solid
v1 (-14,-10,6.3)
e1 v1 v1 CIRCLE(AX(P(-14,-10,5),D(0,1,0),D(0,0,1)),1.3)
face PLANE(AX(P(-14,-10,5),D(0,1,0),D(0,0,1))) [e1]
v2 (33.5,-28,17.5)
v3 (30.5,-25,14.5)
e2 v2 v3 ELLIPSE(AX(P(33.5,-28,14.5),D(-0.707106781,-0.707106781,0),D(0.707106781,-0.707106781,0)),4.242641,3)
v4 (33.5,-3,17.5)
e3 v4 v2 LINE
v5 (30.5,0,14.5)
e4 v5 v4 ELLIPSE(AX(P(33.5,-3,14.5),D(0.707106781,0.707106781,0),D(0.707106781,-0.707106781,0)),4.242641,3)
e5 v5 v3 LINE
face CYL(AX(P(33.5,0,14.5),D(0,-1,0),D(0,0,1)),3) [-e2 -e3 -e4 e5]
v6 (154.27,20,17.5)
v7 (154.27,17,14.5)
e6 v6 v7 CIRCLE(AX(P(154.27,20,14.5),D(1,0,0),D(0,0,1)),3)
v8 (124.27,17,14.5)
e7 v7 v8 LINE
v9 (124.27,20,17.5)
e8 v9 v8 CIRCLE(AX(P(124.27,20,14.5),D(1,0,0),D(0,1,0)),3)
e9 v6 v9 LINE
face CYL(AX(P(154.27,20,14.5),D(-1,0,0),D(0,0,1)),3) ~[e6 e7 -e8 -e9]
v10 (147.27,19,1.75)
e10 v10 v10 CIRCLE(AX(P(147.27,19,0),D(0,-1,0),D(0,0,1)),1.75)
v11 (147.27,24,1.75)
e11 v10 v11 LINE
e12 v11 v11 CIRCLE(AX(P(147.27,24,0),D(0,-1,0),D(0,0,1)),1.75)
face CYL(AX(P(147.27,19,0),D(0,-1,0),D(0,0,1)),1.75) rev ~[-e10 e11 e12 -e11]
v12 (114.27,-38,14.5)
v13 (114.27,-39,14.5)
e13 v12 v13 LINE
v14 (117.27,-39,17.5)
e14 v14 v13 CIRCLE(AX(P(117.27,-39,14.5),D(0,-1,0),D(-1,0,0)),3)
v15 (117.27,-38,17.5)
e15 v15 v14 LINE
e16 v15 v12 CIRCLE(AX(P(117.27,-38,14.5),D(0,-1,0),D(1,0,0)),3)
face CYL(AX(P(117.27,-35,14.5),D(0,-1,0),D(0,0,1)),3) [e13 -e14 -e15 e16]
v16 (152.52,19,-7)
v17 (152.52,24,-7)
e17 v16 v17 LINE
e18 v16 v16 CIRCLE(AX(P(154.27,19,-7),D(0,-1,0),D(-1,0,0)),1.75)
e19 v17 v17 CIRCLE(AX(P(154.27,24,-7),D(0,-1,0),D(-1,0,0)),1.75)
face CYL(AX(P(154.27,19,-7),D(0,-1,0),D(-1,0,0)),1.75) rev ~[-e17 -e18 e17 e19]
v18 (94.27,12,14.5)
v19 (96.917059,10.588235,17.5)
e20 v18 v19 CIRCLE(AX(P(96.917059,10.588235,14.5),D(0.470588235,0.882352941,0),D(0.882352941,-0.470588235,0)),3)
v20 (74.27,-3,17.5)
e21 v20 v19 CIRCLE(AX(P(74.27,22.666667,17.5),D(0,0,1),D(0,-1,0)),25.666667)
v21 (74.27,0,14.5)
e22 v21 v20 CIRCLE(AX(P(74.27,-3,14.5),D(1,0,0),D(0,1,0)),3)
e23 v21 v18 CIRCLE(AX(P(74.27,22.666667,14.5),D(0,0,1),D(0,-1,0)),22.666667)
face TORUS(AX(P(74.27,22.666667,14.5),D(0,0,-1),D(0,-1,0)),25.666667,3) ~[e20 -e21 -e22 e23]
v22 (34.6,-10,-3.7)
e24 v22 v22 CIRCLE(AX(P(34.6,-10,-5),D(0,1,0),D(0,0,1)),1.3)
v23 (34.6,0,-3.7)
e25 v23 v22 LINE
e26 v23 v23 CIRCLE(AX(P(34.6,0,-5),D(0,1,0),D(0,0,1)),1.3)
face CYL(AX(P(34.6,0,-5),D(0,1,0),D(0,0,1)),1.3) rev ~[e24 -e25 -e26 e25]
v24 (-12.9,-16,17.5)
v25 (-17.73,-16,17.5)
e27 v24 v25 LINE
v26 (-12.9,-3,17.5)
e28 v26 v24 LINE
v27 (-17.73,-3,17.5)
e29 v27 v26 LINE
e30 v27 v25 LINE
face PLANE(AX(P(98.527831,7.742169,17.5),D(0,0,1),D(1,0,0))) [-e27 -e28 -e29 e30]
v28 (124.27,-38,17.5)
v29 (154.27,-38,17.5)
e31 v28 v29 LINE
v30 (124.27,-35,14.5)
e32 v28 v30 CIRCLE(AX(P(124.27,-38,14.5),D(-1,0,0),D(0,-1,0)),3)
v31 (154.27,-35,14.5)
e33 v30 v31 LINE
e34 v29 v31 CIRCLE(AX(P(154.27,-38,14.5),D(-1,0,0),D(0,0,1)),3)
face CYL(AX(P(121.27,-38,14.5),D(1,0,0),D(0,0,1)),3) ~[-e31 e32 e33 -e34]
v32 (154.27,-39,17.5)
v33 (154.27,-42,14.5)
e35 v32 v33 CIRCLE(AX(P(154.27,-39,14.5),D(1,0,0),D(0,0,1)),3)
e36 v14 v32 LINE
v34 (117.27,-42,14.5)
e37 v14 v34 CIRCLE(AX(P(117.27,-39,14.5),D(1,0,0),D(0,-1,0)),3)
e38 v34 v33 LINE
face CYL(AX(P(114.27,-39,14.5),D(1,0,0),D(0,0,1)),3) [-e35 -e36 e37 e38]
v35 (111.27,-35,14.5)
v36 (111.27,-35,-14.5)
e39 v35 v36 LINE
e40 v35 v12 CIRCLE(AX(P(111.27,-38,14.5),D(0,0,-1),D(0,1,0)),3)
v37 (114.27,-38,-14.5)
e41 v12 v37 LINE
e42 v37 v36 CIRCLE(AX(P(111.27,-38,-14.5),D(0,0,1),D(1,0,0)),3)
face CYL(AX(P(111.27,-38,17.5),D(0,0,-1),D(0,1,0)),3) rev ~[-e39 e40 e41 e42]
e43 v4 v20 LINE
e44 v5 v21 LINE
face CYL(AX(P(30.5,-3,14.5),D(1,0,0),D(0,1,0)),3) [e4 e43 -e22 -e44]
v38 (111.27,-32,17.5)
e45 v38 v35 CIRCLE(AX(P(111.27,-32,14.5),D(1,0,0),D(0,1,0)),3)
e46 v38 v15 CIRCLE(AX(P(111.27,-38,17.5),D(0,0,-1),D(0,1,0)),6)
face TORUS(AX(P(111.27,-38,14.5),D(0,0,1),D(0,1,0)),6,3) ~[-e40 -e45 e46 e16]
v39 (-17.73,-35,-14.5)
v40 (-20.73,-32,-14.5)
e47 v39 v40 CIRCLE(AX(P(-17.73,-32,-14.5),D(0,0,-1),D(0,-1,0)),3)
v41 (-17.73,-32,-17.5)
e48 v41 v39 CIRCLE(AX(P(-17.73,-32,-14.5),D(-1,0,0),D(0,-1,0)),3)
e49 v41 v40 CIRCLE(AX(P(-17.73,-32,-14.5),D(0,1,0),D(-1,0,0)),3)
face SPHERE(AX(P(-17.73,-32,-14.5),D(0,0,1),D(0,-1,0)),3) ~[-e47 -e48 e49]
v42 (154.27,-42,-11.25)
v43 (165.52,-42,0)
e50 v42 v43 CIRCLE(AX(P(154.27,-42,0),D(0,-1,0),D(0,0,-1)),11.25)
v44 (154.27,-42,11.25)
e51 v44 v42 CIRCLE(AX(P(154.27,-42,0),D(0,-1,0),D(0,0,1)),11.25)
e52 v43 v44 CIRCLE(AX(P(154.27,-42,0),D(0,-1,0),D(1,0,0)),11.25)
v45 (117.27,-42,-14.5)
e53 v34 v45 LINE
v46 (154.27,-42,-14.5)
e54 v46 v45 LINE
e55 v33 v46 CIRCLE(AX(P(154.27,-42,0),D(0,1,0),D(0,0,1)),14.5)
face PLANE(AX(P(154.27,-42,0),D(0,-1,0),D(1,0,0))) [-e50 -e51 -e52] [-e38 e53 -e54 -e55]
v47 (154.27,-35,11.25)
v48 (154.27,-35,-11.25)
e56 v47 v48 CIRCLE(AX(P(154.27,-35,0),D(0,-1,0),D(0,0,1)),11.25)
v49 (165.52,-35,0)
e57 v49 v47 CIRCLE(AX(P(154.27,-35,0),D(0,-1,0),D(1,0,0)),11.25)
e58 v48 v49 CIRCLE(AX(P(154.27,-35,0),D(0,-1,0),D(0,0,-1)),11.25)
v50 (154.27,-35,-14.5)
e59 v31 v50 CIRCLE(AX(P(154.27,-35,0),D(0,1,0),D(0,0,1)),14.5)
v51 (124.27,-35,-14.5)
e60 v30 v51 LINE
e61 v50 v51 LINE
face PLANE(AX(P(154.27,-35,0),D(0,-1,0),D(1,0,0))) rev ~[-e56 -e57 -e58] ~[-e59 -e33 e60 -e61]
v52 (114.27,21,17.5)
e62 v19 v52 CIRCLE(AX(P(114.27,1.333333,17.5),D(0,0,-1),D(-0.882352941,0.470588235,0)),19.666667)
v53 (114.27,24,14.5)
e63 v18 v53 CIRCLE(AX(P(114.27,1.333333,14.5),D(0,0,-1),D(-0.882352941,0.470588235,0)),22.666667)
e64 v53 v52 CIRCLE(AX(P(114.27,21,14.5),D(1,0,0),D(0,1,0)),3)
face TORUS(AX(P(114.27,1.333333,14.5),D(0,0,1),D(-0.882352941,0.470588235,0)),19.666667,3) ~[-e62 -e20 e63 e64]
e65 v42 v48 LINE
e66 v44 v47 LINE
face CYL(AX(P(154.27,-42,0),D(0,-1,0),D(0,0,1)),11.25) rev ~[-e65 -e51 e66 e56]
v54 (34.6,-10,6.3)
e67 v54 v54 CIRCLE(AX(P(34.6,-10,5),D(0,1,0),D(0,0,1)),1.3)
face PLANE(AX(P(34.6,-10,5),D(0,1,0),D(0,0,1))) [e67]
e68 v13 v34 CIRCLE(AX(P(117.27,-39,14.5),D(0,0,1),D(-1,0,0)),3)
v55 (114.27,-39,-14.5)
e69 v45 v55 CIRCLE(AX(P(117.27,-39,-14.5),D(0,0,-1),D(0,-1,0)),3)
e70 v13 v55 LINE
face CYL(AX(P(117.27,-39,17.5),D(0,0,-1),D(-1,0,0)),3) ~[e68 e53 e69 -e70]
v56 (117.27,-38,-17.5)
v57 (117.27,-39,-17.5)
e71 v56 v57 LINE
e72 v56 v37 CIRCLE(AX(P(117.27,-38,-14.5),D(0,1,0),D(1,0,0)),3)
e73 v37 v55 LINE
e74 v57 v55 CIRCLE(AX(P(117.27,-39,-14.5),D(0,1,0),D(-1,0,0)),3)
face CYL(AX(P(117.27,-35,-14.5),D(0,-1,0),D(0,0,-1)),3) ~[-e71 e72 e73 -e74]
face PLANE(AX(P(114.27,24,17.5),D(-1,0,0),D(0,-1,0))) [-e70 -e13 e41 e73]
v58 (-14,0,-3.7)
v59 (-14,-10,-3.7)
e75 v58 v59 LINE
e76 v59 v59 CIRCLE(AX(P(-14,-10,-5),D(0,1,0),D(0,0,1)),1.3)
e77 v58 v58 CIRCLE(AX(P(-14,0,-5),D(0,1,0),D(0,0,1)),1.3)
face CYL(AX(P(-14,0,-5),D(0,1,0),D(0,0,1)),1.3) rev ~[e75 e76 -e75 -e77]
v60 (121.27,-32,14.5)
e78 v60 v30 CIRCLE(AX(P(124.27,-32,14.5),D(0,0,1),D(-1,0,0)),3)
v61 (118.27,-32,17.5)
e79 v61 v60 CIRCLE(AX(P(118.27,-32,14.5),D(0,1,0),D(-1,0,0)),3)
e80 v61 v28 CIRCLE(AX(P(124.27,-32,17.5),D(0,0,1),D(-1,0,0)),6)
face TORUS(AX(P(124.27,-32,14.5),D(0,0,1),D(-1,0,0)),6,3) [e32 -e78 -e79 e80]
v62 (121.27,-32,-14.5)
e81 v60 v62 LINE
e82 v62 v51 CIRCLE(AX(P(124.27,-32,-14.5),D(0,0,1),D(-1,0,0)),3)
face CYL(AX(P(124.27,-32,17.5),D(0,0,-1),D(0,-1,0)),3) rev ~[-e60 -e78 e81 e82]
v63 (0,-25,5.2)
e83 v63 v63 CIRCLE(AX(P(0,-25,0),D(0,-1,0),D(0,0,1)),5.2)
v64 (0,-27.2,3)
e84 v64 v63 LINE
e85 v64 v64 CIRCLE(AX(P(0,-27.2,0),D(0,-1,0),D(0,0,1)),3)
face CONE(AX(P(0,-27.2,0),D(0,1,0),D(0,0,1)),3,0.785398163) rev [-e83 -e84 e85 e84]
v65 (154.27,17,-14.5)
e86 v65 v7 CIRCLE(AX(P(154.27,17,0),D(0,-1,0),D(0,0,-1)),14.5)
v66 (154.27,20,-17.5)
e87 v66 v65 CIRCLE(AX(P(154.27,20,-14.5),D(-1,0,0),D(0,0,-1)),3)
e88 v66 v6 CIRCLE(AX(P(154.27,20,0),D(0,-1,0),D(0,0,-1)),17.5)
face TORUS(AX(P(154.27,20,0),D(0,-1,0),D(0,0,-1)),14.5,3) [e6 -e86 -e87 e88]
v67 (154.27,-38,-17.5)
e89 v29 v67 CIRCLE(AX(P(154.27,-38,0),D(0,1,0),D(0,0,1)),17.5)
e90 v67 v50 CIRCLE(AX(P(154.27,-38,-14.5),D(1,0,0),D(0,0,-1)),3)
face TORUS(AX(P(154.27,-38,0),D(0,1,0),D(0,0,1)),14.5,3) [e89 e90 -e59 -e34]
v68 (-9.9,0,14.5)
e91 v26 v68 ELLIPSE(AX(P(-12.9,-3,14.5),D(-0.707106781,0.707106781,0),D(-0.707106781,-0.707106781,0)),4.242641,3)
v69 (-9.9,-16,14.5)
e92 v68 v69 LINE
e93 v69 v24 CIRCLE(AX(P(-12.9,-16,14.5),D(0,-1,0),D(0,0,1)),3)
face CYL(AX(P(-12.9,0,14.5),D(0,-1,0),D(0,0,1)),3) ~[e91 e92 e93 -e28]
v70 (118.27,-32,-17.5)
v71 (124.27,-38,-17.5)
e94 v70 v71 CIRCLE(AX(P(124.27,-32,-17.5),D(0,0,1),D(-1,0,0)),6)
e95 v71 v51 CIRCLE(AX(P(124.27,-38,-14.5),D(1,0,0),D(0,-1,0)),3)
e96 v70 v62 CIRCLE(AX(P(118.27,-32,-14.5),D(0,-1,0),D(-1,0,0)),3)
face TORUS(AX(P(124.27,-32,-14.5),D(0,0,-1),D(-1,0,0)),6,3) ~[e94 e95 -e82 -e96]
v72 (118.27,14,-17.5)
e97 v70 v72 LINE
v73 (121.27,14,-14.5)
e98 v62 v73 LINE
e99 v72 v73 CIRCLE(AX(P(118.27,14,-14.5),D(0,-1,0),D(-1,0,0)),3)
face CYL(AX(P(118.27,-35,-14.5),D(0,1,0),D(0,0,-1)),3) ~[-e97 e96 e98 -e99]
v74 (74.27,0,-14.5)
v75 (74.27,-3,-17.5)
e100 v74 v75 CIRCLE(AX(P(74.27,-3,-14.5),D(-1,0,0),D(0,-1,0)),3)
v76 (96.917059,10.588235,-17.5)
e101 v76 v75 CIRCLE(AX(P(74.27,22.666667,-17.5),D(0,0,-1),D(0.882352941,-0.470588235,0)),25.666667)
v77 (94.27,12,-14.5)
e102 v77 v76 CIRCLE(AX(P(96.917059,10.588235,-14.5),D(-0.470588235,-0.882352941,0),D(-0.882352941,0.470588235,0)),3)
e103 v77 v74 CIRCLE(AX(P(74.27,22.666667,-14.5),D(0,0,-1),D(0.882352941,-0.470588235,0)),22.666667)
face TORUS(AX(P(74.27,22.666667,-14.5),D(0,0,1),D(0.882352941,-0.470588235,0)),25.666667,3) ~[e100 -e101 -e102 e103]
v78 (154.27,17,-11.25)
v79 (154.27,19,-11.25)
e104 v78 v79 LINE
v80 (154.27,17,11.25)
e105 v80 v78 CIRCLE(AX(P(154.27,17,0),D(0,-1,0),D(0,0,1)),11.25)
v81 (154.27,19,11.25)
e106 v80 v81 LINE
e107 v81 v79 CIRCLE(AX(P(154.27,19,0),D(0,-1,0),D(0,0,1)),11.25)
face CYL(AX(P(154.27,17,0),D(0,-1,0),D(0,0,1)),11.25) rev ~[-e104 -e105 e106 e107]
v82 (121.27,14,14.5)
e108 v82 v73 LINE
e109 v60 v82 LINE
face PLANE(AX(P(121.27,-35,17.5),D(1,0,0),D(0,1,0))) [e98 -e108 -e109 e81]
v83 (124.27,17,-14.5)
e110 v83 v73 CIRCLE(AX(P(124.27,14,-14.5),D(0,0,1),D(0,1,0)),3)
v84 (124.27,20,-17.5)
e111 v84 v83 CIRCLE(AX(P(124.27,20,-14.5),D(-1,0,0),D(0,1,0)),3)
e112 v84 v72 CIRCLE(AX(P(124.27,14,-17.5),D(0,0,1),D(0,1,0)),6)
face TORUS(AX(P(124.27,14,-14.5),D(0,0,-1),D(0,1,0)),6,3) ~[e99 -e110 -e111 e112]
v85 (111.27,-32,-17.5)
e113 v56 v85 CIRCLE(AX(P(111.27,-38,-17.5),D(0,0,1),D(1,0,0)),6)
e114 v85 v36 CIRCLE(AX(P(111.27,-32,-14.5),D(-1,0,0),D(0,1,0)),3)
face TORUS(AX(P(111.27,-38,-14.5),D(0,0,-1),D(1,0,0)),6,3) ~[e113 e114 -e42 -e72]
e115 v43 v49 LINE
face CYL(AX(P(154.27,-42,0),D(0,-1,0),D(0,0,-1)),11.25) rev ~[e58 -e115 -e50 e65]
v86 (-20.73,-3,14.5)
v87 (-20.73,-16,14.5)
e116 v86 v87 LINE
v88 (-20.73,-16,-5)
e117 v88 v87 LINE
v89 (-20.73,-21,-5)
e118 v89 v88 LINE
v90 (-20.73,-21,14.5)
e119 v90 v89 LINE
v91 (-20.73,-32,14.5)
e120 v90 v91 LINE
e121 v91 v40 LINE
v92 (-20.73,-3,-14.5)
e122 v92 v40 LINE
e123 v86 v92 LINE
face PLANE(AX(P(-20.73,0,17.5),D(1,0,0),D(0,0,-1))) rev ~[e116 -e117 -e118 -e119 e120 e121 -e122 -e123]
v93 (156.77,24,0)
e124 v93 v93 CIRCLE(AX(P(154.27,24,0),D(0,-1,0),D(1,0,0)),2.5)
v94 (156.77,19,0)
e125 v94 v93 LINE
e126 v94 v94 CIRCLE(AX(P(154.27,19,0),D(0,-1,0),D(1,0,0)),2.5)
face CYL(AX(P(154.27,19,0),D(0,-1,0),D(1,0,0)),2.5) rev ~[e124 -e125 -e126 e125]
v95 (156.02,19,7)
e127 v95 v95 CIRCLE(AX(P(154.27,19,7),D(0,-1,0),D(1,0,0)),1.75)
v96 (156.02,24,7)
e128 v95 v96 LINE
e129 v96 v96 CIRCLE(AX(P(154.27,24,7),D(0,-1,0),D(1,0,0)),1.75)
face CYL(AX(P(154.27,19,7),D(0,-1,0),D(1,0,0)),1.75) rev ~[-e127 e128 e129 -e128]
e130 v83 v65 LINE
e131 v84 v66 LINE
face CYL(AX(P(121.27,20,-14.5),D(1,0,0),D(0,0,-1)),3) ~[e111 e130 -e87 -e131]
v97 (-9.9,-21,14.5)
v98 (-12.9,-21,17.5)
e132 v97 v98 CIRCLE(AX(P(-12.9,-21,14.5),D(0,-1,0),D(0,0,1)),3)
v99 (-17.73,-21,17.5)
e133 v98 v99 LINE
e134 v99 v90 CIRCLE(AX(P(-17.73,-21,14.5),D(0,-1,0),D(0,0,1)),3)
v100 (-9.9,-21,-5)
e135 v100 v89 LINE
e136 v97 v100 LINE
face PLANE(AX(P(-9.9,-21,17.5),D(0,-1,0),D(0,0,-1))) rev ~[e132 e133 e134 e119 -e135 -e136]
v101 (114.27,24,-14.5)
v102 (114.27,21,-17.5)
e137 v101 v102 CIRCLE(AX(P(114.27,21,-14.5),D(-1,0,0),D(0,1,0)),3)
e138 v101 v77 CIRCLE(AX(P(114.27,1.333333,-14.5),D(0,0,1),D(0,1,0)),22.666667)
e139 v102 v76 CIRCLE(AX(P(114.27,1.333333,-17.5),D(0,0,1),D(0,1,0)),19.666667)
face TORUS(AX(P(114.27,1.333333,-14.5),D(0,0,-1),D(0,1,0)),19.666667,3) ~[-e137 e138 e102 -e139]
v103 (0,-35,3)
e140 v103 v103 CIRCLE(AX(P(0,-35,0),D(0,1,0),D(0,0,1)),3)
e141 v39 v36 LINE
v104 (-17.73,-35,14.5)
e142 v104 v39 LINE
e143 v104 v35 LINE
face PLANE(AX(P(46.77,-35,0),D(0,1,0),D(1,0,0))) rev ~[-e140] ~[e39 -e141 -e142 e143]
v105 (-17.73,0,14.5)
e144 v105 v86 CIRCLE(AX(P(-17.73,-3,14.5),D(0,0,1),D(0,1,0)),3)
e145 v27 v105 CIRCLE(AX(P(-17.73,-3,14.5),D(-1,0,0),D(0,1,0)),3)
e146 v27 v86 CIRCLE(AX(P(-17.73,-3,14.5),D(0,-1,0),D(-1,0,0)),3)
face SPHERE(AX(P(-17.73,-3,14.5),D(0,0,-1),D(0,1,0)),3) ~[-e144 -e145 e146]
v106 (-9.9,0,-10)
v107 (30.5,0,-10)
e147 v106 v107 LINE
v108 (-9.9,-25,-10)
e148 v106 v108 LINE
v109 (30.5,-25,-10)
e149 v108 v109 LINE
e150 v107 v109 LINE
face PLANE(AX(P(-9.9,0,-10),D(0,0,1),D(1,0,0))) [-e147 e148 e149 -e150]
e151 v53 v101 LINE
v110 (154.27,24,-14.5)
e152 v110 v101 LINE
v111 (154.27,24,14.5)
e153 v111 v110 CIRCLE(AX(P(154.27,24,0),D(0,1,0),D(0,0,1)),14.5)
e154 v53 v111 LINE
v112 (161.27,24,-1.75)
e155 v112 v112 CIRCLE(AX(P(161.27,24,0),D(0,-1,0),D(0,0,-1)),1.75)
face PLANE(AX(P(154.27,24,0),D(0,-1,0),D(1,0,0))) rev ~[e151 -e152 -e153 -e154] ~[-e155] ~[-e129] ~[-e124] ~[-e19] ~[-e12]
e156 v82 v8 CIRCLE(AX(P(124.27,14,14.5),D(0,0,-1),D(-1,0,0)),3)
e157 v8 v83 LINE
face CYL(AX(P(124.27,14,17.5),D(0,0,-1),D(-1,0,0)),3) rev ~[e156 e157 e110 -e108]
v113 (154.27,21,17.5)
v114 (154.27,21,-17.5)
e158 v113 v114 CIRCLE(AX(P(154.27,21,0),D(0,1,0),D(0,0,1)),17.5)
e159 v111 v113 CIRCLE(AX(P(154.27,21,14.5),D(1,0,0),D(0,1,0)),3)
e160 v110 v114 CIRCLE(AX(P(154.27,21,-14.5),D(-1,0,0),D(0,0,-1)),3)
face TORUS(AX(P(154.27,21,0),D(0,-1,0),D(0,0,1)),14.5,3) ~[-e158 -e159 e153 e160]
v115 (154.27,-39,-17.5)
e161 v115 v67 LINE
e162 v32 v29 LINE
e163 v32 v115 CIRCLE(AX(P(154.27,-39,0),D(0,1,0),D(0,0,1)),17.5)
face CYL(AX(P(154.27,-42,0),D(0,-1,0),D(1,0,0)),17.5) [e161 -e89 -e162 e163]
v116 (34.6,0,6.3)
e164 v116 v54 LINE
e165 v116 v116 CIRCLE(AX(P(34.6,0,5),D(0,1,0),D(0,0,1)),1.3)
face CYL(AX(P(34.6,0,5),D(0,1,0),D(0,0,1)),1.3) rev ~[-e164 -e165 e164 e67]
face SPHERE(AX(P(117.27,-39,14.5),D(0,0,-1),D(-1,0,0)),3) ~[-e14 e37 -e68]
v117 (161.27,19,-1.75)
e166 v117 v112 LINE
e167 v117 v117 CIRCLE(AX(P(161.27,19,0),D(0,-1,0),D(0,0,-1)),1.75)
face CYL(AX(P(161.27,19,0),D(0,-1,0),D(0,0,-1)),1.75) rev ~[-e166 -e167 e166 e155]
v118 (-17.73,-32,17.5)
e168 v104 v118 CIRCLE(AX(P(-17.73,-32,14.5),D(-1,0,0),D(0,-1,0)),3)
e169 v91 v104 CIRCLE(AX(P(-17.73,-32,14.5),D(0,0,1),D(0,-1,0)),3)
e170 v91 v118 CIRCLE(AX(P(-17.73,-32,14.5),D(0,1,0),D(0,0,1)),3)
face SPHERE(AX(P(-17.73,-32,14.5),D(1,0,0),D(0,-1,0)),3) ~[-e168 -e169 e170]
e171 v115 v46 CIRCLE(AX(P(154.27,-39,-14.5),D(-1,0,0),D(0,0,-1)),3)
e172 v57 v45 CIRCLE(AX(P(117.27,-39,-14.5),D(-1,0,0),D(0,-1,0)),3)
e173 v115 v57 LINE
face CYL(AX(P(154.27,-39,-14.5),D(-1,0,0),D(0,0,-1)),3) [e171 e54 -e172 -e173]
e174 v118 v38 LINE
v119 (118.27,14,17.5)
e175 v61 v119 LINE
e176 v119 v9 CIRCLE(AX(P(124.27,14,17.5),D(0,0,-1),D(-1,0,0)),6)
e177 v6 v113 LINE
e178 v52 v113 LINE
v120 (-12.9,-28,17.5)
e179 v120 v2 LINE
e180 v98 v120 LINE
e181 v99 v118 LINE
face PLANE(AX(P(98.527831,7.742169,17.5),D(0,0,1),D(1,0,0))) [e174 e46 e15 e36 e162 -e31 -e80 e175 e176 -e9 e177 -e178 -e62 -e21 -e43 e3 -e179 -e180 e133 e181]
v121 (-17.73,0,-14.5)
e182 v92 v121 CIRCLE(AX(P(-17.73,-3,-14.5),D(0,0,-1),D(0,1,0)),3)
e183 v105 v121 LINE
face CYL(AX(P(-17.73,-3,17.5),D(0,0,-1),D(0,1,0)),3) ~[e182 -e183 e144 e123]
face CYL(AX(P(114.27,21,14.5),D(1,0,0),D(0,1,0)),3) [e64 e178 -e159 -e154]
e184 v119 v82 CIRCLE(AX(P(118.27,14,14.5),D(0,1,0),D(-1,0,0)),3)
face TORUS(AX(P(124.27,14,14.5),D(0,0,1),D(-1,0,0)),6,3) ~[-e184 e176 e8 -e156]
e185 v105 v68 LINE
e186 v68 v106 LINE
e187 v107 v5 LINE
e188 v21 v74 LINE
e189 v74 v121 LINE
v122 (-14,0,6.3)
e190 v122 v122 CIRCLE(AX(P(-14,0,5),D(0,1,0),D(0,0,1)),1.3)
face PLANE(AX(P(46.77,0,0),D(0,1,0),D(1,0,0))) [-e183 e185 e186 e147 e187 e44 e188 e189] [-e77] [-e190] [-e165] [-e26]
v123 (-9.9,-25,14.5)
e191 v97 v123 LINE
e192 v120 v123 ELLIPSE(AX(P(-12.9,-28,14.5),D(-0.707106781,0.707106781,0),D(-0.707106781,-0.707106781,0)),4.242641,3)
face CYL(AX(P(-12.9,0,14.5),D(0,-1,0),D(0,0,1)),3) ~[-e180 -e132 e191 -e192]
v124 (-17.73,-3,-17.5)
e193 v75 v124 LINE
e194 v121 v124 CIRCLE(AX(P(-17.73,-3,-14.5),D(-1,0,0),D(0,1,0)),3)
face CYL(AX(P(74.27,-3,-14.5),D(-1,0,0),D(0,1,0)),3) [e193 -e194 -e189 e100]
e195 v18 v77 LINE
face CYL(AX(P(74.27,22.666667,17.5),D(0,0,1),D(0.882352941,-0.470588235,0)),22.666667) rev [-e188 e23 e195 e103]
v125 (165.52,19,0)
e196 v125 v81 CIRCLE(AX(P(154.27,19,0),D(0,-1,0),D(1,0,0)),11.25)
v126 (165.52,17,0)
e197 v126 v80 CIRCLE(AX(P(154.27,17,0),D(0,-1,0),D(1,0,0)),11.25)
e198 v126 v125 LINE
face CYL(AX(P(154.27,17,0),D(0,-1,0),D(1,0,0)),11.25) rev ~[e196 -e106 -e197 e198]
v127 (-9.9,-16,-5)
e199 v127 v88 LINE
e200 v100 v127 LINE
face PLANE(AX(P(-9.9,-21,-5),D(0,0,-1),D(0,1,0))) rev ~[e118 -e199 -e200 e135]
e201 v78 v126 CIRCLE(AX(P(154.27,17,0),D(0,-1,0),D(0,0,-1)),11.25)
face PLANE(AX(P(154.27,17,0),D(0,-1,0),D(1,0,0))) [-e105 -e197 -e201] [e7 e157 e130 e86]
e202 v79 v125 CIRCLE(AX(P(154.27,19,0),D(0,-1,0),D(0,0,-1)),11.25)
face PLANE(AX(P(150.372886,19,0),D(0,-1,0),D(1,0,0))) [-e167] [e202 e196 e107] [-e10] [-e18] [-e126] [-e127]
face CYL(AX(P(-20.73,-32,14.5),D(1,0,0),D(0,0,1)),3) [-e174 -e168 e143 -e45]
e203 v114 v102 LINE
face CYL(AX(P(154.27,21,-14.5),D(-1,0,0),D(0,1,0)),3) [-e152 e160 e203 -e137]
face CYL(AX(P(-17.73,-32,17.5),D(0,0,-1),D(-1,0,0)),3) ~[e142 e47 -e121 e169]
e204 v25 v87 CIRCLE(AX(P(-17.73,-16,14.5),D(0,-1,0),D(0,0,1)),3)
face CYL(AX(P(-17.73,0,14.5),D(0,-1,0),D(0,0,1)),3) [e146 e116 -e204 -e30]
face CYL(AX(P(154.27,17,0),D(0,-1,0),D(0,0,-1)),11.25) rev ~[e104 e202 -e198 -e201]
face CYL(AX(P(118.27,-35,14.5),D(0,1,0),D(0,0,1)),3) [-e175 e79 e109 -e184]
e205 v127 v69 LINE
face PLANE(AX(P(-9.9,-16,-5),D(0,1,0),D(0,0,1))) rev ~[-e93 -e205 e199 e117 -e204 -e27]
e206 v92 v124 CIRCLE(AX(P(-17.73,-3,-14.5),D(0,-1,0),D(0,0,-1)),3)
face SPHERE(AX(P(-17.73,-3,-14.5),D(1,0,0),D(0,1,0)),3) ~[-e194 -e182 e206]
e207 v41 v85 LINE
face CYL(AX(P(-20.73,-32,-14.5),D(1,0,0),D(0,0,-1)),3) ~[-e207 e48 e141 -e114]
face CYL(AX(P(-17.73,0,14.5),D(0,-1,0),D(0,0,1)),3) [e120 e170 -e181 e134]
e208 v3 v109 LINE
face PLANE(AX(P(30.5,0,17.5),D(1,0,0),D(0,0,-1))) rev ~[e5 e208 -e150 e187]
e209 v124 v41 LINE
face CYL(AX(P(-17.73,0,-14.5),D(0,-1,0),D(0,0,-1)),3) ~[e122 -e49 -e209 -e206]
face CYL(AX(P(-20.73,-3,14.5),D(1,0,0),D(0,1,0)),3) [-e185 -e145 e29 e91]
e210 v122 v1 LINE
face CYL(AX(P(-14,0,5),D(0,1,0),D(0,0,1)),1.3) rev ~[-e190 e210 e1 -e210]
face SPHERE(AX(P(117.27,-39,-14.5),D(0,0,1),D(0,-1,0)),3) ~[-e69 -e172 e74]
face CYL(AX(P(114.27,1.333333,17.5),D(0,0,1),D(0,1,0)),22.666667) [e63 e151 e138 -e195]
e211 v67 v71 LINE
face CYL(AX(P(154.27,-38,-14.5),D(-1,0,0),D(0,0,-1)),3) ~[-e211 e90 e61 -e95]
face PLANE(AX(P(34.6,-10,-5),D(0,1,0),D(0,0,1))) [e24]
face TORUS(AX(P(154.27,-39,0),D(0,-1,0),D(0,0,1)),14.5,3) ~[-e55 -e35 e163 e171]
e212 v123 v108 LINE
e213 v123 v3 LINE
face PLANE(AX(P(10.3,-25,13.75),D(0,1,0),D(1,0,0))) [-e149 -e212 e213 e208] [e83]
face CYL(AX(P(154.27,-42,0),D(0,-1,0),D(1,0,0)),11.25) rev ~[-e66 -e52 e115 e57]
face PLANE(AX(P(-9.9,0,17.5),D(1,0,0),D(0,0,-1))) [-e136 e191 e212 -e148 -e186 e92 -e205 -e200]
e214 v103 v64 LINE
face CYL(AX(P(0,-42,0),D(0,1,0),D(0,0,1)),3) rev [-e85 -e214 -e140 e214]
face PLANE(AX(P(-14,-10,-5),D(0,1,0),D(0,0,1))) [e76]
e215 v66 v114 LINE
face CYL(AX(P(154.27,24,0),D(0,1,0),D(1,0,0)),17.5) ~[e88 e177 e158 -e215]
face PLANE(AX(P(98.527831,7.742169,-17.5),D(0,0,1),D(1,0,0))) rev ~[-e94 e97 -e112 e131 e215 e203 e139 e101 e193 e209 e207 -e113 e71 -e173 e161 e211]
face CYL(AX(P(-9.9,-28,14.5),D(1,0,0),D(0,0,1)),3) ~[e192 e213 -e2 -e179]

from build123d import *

# Parameters (mm, degrees)
SKETCH1_W           = 135
SKETCH1_H           = 35
BOSS_EXTRUDE1_DEPTH = 35
SKETCH1_3_W         = 40.4
SKETCH1_3_H         = 20
SKETCH1_3_R         = 3.9
SKETCH1_3_H_2       = 7.5
CUT_EXTRUDE1_DEPTH  = 25
SKETCH1_6_R         = 1.3
CUT_EXTRUDE3_DEPTH  = 10
EXTRUDE_THIN1_DEPTH = 35
SKETCH3_R           = 17.5
BOSS_EXTRUDE2_DEPTH = 7
BOSS_EXTRUDE3_START = -66
SKETCH3_3_R         = 17.5
BOSS_EXTRUDE3_DEPTH = 7
BOSS_EXTRUDE6_DEPTH = 35
FILLET3_R           = 3
CUT_EXTRUDE4_REACH  = 186.844
SKETCH4_7_W         = 22.5
SKETCH4_7_H         = 5
SKETCH4_7_W_2       = 3
CUT_EXTRUDE8_DEPTH  = 188.281176052
CUT_EXTRUDE9_START  = -59
CUT_EXTRUDE9_DEPTH  = 2
CUT_EXTRUDE10_REACH = 185.118
SKETCH5_R           = 2.5
SKETCH5_R_2         = 1.75
CIRPATTERN1_COUNT   = 4


with BuildPart() as part:
    # Sketch1 → Boss-Extrude1 (new body)
    with BuildSketch(Plane(origin=(0, 0, 0), x_dir=(1, 0, 0), z_dir=(0, 1, 0))):
        with Locations((46.77, 0)):
            Rectangle(SKETCH1_W, SKETCH1_H)
    extrude(amount=-BOSS_EXTRUDE1_DEPTH)

    # Sketch1<3> → Cut-Extrude1 (cut)
    # profile 1 of 3: a face of its own
    with BuildSketch(Plane(origin=(0, 0, 0), x_dir=(1, 0, 0), z_dir=(0, 1, 0))):
        with Locations((10.3, 0)):
            Rectangle(SKETCH1_3_W, SKETCH1_3_H)
        Circle(SKETCH1_3_R, mode=Mode.SUBTRACT)
    # profile 2 of 3: a face of its own
    with BuildSketch(Plane(origin=(0, 0, 0), x_dir=(1, 0, 0), z_dir=(0, 1, 0))):
        Circle(SKETCH1_3_R)
    # profile 3 of 3: a face of its own
    with BuildSketch(Plane(origin=(0, 0, 0), x_dir=(1, 0, 0), z_dir=(0, 1, 0))):
        with Locations((10.3, -13.75)):
            Rectangle(SKETCH1_3_W, SKETCH1_3_H_2)
    extrude(amount=-CUT_EXTRUDE1_DEPTH, mode=Mode.SUBTRACT)

    # Sketch1<6> → Cut-Extrude3 (cut)
    with BuildSketch(Plane(origin=(0, 0, 0), x_dir=(1, 0, 0), z_dir=(0, 1, 0))):
        with Locations(Location((-14, 5, 0), (0, 0, 270))):
            Circle(SKETCH1_6_R)
        with Locations(Location((-14, -5, 0), (0, 0, 270))):
            Circle(SKETCH1_6_R)
        with Locations(Location((34.6, 5, 0), (0, 0, 270))):
            Circle(SKETCH1_6_R)
        with Locations(Location((34.6, -5, 0), (0, 0, 270))):
            Circle(SKETCH1_6_R)
    extrude(amount=-CUT_EXTRUDE3_DEPTH, mode=Mode.SUBTRACT)

    # Sketch2 → Extrude-Thin1 (add)
    with BuildSketch(Plane.XY.offset(17.5)):
        Polygon((154.27, 24), (114.27, 24), (114.27, -42), (154.27, -42), (154.27, -35), (121.27, -35), (121.27, 17), (154.27, 17), align=None)
    extrude(amount=-EXTRUDE_THIN1_DEPTH)

    # Sketch3 → Boss-Extrude2 (add)
    with BuildSketch(Plane.XZ.offset(42)):
        with Locations((154.27, 0)):
            Circle(SKETCH3_R)
    extrude(amount=-BOSS_EXTRUDE2_DEPTH)

    # Sketch3<3> → Boss-Extrude3 (add)
    with BuildSketch(Plane.XZ.offset(42).offset(BOSS_EXTRUDE3_START)):
        with Locations((154.27, 0)):
            Circle(SKETCH3_3_R)
    extrude(amount=BOSS_EXTRUDE3_DEPTH)

    # Sketch16 → Boss-Extrude6 (add)
    with BuildSketch(Plane.XY.offset(17.5)):
        with BuildLine():
            ThreePointArc((94.27, 12), (85.93190379, 3.230160351), (74.27, 0))
            Line((74.27, 0), (114.27, 0))
            Line((114.27, 0), (114.27, 24))
            ThreePointArc((114.27, 24), (102.60809621, 20.769839649), (94.27, 12))
        make_face()
    extrude(amount=-BOSS_EXTRUDE6_DEPTH)

    # Fillet3
    fillet3_edges = [part.edges().sort_by_distance(p)[0] for p in [
        (46.77, -35, 17.5),
        (52.385, 0, 17.5),
        (-20.73, -35, 0),
        (-9.9, -12.5, 17.5),
        (10.3, -25, 17.5),
        (30.5, -12.5, 17.5),
        (114.27, -42, 0),
        (134.27, 24, 17.5),
        (114.27, -38.5, 17.5),
        (134.27, -42, 17.5),
        (121.27, -9, -17.5),
        (121.27, 17, 0),
        (121.27, -9, 17.5),
        (137.77, 17, -17.5),
        (137.77, 17, 17.5),
        (137.77, -35, -17.5),
        (121.27, -35, 0),
        (137.77, -35, 17.5),
        (134.27, -42, -17.5),
        (114.27, -38.5, -17.5),
        (134.27, 24, -17.5),
        (46.77, -35, -17.5),
        (-20.73, 0, 0),
        (-15.315, 0, 17.5),
        (26.77, 0, -17.5),
        (171.77, -42, 0),
        (171.77, -35, 0),
        (171.77, 17, 0),
        (171.77, 24, 0),
        (-20.73, -17.5, -17.5),
        (-20.73, -17.5, 17.5),
        (102.60809621, 20.769839649, 17.5),
        (85.93190379, 3.230160351, -17.5),
        (85.93190379, 3.230160351, 17.5),
        (102.60809621, 20.769839649, -17.5),
        (114.27, -35, 0),
    ]]
    fillet(fillet3_edges, radius=FILLET3_R)

    # Sketch3<4> → Cut-Extrude4 (cut, up to next)
    with BuildSketch(Plane.XZ.offset(42), mode=Mode.PRIVATE) as cut_extrude4_sk1:
        with BuildLine():
            Line((154.27, -11.25), (154.27, 11.25))
            ThreePointArc((154.27, 11.25), (143.02, 0), (154.27, -11.25))
        make_face()
    cut_extrude4_tool1 = extrude(cut_extrude4_sk1.sketch, amount=-CUT_EXTRUDE4_REACH, mode=Mode.PRIVATE) & part.part
    # Sketch3<4> → Cut-Extrude4 (cut, up to next)
    with BuildSketch(Plane.XZ.offset(42), mode=Mode.PRIVATE) as cut_extrude4_sk2:
        with BuildLine():
            ThreePointArc((165.52, 0), (162.224951288, 7.954951288), (154.27, 11.25))
            Line((154.27, 11.25), (154.27, -11.25))
            ThreePointArc((154.27, -11.25), (162.224951288, -7.954951288), (165.52, 0))
        make_face()
    cut_extrude4_tool2 = extrude(cut_extrude4_sk2.sketch, amount=-CUT_EXTRUDE4_REACH, mode=Mode.PRIVATE) & part.part
    # Sketch3<4> → Cut-Extrude4 (cut, up to next)
    with BuildSketch(Plane.XZ.offset(42), mode=Mode.PRIVATE) as cut_extrude4_sk3:
        with BuildLine():
            Line((154.27, -11.25), (154.27, 11.25))
            ThreePointArc((154.27, 11.25), (143.02, 0), (154.27, -11.25))
        make_face()
    cut_extrude4_tool3 = extrude(cut_extrude4_sk3.sketch, amount=-CUT_EXTRUDE4_REACH, mode=Mode.PRIVATE) & part.part
    # Sketch3<4> → Cut-Extrude4 (cut, up to next)
    with BuildSketch(Plane.XZ.offset(42), mode=Mode.PRIVATE) as cut_extrude4_sk4:
        with BuildLine():
            ThreePointArc((165.52, 0), (162.224951288, 7.954951288), (154.27, 11.25))
            Line((154.27, 11.25), (154.27, -11.25))
            ThreePointArc((154.27, -11.25), (162.224951288, -7.954951288), (165.52, 0))
        make_face()
    cut_extrude4_tool4 = extrude(cut_extrude4_sk4.sketch, amount=-CUT_EXTRUDE4_REACH, mode=Mode.PRIVATE) & part.part
    add(cut_extrude4_tool1.solids().sort_by_distance((149.495352, -42, 0))[0], mode=Mode.SUBTRACT)
    add(cut_extrude4_tool2.solids().sort_by_distance((159.044648, -42, 0))[0], mode=Mode.SUBTRACT)
    add(cut_extrude4_tool3.solids().sort_by_distance((149.495352, -42, 0))[0], mode=Mode.SUBTRACT)
    add(cut_extrude4_tool4.solids().sort_by_distance((159.044648, -42, 0))[0], mode=Mode.SUBTRACT)

    # Sketch4<7> → Cut-Extrude8 (cut, through all)
    with BuildSketch(Plane(origin=(-9.9, 0, 0), x_dir=(0, 0, -1), z_dir=(1, 0, 0))):
        with Locations((-6.25, -18.5)):
            Rectangle(SKETCH4_7_W, SKETCH4_7_H)
        with Locations((-16, -18.5)):
            Rectangle(SKETCH4_7_W_2, SKETCH4_7_H)
    extrude(amount=-CUT_EXTRUDE8_DEPTH, mode=Mode.SUBTRACT)

    # Sketch3<5> → Cut-Extrude9 (cut)
    with BuildSketch(Plane.XZ.offset(42).offset(CUT_EXTRUDE9_START)):
        with BuildLine():
            Line((154.27, -11.25), (154.27, 11.25))
            ThreePointArc((154.27, 11.25), (143.02, 0), (154.27, -11.25))
        make_face()
        with BuildLine():
            ThreePointArc((165.52, 0), (162.224951288, 7.954951288), (154.27, 11.25))
            Line((154.27, 11.25), (154.27, -11.25))
            ThreePointArc((154.27, -11.25), (162.224951288, -7.954951288), (165.52, 0))
        make_face()
    extrude(amount=-CUT_EXTRUDE9_DEPTH, mode=Mode.SUBTRACT)

    # Sketch5 → Cut-Extrude10 (cut, up to next)
    with BuildSketch(Plane(origin=(0, 19, 0), x_dir=(-1, 0, 0), z_dir=(0, -1, 0)), mode=Mode.PRIVATE) as cut_extrude10_sk1:
        with Locations(Location((-154.27, 0, 0), (0, 0, 180))):
            Circle(SKETCH5_R)
    cut_extrude10_tool1 = extrude(cut_extrude10_sk1.sketch, amount=-CUT_EXTRUDE10_REACH, mode=Mode.PRIVATE) & part.part
    # Sketch5 → Cut-Extrude10 (cut, up to next)
    with BuildSketch(Plane(origin=(0, 19, 0), x_dir=(-1, 0, 0), z_dir=(0, -1, 0)), mode=Mode.PRIVATE) as cut_extrude10_sk2:
        with Locations(Location((-154.27, -7, 0), (0, 0, 180))):
            Circle(SKETCH5_R_2)
    cut_extrude10_tool2 = extrude(cut_extrude10_sk2.sketch, amount=-CUT_EXTRUDE10_REACH, mode=Mode.PRIVATE) & part.part
    cut_extrude10_1 = cut_extrude10_tool1.solids().sort_by_distance((154.27, 19, 0))[0]
    add(cut_extrude10_1, mode=Mode.SUBTRACT)
    cut_extrude10_2 = cut_extrude10_tool2.solids().sort_by_distance((154.27, 19, 7))[0]
    add(cut_extrude10_2, mode=Mode.SUBTRACT)
    cut_extrude10 = cut_extrude10_1 + cut_extrude10_2  # Cut-Extrude10 as one shape, for the pattern or mirror that repeats it

    # CirPattern1: Cut-Extrude10 ×4 about axis
    cirpattern1_axis = Axis((154.27, 0, 0), (0, 1, 0))
    for i in range(1, CIRPATTERN1_COUNT):
        add(cut_extrude10.rotate(cirpattern1_axis, i * 360 / CIRPATTERN1_COUNT), mode=Mode.SUBTRACT)

    # Sketch9 → CSK for M5 Flat Head Machine Screw1 (revolve, cut)
    with BuildSketch(Plane(origin=(0, -25, 0), x_dir=(0, 0, 1), z_dir=(1, 0, 0))):
        Polygon((0, 0), (0, 17), (3, 17), (3, 2.2), (5.2, 0), align=None)
    revolve(axis=Axis((0, -18.65, 0), (0, -1, 0)), mode=Mode.SUBTRACT)


solid = part.part
